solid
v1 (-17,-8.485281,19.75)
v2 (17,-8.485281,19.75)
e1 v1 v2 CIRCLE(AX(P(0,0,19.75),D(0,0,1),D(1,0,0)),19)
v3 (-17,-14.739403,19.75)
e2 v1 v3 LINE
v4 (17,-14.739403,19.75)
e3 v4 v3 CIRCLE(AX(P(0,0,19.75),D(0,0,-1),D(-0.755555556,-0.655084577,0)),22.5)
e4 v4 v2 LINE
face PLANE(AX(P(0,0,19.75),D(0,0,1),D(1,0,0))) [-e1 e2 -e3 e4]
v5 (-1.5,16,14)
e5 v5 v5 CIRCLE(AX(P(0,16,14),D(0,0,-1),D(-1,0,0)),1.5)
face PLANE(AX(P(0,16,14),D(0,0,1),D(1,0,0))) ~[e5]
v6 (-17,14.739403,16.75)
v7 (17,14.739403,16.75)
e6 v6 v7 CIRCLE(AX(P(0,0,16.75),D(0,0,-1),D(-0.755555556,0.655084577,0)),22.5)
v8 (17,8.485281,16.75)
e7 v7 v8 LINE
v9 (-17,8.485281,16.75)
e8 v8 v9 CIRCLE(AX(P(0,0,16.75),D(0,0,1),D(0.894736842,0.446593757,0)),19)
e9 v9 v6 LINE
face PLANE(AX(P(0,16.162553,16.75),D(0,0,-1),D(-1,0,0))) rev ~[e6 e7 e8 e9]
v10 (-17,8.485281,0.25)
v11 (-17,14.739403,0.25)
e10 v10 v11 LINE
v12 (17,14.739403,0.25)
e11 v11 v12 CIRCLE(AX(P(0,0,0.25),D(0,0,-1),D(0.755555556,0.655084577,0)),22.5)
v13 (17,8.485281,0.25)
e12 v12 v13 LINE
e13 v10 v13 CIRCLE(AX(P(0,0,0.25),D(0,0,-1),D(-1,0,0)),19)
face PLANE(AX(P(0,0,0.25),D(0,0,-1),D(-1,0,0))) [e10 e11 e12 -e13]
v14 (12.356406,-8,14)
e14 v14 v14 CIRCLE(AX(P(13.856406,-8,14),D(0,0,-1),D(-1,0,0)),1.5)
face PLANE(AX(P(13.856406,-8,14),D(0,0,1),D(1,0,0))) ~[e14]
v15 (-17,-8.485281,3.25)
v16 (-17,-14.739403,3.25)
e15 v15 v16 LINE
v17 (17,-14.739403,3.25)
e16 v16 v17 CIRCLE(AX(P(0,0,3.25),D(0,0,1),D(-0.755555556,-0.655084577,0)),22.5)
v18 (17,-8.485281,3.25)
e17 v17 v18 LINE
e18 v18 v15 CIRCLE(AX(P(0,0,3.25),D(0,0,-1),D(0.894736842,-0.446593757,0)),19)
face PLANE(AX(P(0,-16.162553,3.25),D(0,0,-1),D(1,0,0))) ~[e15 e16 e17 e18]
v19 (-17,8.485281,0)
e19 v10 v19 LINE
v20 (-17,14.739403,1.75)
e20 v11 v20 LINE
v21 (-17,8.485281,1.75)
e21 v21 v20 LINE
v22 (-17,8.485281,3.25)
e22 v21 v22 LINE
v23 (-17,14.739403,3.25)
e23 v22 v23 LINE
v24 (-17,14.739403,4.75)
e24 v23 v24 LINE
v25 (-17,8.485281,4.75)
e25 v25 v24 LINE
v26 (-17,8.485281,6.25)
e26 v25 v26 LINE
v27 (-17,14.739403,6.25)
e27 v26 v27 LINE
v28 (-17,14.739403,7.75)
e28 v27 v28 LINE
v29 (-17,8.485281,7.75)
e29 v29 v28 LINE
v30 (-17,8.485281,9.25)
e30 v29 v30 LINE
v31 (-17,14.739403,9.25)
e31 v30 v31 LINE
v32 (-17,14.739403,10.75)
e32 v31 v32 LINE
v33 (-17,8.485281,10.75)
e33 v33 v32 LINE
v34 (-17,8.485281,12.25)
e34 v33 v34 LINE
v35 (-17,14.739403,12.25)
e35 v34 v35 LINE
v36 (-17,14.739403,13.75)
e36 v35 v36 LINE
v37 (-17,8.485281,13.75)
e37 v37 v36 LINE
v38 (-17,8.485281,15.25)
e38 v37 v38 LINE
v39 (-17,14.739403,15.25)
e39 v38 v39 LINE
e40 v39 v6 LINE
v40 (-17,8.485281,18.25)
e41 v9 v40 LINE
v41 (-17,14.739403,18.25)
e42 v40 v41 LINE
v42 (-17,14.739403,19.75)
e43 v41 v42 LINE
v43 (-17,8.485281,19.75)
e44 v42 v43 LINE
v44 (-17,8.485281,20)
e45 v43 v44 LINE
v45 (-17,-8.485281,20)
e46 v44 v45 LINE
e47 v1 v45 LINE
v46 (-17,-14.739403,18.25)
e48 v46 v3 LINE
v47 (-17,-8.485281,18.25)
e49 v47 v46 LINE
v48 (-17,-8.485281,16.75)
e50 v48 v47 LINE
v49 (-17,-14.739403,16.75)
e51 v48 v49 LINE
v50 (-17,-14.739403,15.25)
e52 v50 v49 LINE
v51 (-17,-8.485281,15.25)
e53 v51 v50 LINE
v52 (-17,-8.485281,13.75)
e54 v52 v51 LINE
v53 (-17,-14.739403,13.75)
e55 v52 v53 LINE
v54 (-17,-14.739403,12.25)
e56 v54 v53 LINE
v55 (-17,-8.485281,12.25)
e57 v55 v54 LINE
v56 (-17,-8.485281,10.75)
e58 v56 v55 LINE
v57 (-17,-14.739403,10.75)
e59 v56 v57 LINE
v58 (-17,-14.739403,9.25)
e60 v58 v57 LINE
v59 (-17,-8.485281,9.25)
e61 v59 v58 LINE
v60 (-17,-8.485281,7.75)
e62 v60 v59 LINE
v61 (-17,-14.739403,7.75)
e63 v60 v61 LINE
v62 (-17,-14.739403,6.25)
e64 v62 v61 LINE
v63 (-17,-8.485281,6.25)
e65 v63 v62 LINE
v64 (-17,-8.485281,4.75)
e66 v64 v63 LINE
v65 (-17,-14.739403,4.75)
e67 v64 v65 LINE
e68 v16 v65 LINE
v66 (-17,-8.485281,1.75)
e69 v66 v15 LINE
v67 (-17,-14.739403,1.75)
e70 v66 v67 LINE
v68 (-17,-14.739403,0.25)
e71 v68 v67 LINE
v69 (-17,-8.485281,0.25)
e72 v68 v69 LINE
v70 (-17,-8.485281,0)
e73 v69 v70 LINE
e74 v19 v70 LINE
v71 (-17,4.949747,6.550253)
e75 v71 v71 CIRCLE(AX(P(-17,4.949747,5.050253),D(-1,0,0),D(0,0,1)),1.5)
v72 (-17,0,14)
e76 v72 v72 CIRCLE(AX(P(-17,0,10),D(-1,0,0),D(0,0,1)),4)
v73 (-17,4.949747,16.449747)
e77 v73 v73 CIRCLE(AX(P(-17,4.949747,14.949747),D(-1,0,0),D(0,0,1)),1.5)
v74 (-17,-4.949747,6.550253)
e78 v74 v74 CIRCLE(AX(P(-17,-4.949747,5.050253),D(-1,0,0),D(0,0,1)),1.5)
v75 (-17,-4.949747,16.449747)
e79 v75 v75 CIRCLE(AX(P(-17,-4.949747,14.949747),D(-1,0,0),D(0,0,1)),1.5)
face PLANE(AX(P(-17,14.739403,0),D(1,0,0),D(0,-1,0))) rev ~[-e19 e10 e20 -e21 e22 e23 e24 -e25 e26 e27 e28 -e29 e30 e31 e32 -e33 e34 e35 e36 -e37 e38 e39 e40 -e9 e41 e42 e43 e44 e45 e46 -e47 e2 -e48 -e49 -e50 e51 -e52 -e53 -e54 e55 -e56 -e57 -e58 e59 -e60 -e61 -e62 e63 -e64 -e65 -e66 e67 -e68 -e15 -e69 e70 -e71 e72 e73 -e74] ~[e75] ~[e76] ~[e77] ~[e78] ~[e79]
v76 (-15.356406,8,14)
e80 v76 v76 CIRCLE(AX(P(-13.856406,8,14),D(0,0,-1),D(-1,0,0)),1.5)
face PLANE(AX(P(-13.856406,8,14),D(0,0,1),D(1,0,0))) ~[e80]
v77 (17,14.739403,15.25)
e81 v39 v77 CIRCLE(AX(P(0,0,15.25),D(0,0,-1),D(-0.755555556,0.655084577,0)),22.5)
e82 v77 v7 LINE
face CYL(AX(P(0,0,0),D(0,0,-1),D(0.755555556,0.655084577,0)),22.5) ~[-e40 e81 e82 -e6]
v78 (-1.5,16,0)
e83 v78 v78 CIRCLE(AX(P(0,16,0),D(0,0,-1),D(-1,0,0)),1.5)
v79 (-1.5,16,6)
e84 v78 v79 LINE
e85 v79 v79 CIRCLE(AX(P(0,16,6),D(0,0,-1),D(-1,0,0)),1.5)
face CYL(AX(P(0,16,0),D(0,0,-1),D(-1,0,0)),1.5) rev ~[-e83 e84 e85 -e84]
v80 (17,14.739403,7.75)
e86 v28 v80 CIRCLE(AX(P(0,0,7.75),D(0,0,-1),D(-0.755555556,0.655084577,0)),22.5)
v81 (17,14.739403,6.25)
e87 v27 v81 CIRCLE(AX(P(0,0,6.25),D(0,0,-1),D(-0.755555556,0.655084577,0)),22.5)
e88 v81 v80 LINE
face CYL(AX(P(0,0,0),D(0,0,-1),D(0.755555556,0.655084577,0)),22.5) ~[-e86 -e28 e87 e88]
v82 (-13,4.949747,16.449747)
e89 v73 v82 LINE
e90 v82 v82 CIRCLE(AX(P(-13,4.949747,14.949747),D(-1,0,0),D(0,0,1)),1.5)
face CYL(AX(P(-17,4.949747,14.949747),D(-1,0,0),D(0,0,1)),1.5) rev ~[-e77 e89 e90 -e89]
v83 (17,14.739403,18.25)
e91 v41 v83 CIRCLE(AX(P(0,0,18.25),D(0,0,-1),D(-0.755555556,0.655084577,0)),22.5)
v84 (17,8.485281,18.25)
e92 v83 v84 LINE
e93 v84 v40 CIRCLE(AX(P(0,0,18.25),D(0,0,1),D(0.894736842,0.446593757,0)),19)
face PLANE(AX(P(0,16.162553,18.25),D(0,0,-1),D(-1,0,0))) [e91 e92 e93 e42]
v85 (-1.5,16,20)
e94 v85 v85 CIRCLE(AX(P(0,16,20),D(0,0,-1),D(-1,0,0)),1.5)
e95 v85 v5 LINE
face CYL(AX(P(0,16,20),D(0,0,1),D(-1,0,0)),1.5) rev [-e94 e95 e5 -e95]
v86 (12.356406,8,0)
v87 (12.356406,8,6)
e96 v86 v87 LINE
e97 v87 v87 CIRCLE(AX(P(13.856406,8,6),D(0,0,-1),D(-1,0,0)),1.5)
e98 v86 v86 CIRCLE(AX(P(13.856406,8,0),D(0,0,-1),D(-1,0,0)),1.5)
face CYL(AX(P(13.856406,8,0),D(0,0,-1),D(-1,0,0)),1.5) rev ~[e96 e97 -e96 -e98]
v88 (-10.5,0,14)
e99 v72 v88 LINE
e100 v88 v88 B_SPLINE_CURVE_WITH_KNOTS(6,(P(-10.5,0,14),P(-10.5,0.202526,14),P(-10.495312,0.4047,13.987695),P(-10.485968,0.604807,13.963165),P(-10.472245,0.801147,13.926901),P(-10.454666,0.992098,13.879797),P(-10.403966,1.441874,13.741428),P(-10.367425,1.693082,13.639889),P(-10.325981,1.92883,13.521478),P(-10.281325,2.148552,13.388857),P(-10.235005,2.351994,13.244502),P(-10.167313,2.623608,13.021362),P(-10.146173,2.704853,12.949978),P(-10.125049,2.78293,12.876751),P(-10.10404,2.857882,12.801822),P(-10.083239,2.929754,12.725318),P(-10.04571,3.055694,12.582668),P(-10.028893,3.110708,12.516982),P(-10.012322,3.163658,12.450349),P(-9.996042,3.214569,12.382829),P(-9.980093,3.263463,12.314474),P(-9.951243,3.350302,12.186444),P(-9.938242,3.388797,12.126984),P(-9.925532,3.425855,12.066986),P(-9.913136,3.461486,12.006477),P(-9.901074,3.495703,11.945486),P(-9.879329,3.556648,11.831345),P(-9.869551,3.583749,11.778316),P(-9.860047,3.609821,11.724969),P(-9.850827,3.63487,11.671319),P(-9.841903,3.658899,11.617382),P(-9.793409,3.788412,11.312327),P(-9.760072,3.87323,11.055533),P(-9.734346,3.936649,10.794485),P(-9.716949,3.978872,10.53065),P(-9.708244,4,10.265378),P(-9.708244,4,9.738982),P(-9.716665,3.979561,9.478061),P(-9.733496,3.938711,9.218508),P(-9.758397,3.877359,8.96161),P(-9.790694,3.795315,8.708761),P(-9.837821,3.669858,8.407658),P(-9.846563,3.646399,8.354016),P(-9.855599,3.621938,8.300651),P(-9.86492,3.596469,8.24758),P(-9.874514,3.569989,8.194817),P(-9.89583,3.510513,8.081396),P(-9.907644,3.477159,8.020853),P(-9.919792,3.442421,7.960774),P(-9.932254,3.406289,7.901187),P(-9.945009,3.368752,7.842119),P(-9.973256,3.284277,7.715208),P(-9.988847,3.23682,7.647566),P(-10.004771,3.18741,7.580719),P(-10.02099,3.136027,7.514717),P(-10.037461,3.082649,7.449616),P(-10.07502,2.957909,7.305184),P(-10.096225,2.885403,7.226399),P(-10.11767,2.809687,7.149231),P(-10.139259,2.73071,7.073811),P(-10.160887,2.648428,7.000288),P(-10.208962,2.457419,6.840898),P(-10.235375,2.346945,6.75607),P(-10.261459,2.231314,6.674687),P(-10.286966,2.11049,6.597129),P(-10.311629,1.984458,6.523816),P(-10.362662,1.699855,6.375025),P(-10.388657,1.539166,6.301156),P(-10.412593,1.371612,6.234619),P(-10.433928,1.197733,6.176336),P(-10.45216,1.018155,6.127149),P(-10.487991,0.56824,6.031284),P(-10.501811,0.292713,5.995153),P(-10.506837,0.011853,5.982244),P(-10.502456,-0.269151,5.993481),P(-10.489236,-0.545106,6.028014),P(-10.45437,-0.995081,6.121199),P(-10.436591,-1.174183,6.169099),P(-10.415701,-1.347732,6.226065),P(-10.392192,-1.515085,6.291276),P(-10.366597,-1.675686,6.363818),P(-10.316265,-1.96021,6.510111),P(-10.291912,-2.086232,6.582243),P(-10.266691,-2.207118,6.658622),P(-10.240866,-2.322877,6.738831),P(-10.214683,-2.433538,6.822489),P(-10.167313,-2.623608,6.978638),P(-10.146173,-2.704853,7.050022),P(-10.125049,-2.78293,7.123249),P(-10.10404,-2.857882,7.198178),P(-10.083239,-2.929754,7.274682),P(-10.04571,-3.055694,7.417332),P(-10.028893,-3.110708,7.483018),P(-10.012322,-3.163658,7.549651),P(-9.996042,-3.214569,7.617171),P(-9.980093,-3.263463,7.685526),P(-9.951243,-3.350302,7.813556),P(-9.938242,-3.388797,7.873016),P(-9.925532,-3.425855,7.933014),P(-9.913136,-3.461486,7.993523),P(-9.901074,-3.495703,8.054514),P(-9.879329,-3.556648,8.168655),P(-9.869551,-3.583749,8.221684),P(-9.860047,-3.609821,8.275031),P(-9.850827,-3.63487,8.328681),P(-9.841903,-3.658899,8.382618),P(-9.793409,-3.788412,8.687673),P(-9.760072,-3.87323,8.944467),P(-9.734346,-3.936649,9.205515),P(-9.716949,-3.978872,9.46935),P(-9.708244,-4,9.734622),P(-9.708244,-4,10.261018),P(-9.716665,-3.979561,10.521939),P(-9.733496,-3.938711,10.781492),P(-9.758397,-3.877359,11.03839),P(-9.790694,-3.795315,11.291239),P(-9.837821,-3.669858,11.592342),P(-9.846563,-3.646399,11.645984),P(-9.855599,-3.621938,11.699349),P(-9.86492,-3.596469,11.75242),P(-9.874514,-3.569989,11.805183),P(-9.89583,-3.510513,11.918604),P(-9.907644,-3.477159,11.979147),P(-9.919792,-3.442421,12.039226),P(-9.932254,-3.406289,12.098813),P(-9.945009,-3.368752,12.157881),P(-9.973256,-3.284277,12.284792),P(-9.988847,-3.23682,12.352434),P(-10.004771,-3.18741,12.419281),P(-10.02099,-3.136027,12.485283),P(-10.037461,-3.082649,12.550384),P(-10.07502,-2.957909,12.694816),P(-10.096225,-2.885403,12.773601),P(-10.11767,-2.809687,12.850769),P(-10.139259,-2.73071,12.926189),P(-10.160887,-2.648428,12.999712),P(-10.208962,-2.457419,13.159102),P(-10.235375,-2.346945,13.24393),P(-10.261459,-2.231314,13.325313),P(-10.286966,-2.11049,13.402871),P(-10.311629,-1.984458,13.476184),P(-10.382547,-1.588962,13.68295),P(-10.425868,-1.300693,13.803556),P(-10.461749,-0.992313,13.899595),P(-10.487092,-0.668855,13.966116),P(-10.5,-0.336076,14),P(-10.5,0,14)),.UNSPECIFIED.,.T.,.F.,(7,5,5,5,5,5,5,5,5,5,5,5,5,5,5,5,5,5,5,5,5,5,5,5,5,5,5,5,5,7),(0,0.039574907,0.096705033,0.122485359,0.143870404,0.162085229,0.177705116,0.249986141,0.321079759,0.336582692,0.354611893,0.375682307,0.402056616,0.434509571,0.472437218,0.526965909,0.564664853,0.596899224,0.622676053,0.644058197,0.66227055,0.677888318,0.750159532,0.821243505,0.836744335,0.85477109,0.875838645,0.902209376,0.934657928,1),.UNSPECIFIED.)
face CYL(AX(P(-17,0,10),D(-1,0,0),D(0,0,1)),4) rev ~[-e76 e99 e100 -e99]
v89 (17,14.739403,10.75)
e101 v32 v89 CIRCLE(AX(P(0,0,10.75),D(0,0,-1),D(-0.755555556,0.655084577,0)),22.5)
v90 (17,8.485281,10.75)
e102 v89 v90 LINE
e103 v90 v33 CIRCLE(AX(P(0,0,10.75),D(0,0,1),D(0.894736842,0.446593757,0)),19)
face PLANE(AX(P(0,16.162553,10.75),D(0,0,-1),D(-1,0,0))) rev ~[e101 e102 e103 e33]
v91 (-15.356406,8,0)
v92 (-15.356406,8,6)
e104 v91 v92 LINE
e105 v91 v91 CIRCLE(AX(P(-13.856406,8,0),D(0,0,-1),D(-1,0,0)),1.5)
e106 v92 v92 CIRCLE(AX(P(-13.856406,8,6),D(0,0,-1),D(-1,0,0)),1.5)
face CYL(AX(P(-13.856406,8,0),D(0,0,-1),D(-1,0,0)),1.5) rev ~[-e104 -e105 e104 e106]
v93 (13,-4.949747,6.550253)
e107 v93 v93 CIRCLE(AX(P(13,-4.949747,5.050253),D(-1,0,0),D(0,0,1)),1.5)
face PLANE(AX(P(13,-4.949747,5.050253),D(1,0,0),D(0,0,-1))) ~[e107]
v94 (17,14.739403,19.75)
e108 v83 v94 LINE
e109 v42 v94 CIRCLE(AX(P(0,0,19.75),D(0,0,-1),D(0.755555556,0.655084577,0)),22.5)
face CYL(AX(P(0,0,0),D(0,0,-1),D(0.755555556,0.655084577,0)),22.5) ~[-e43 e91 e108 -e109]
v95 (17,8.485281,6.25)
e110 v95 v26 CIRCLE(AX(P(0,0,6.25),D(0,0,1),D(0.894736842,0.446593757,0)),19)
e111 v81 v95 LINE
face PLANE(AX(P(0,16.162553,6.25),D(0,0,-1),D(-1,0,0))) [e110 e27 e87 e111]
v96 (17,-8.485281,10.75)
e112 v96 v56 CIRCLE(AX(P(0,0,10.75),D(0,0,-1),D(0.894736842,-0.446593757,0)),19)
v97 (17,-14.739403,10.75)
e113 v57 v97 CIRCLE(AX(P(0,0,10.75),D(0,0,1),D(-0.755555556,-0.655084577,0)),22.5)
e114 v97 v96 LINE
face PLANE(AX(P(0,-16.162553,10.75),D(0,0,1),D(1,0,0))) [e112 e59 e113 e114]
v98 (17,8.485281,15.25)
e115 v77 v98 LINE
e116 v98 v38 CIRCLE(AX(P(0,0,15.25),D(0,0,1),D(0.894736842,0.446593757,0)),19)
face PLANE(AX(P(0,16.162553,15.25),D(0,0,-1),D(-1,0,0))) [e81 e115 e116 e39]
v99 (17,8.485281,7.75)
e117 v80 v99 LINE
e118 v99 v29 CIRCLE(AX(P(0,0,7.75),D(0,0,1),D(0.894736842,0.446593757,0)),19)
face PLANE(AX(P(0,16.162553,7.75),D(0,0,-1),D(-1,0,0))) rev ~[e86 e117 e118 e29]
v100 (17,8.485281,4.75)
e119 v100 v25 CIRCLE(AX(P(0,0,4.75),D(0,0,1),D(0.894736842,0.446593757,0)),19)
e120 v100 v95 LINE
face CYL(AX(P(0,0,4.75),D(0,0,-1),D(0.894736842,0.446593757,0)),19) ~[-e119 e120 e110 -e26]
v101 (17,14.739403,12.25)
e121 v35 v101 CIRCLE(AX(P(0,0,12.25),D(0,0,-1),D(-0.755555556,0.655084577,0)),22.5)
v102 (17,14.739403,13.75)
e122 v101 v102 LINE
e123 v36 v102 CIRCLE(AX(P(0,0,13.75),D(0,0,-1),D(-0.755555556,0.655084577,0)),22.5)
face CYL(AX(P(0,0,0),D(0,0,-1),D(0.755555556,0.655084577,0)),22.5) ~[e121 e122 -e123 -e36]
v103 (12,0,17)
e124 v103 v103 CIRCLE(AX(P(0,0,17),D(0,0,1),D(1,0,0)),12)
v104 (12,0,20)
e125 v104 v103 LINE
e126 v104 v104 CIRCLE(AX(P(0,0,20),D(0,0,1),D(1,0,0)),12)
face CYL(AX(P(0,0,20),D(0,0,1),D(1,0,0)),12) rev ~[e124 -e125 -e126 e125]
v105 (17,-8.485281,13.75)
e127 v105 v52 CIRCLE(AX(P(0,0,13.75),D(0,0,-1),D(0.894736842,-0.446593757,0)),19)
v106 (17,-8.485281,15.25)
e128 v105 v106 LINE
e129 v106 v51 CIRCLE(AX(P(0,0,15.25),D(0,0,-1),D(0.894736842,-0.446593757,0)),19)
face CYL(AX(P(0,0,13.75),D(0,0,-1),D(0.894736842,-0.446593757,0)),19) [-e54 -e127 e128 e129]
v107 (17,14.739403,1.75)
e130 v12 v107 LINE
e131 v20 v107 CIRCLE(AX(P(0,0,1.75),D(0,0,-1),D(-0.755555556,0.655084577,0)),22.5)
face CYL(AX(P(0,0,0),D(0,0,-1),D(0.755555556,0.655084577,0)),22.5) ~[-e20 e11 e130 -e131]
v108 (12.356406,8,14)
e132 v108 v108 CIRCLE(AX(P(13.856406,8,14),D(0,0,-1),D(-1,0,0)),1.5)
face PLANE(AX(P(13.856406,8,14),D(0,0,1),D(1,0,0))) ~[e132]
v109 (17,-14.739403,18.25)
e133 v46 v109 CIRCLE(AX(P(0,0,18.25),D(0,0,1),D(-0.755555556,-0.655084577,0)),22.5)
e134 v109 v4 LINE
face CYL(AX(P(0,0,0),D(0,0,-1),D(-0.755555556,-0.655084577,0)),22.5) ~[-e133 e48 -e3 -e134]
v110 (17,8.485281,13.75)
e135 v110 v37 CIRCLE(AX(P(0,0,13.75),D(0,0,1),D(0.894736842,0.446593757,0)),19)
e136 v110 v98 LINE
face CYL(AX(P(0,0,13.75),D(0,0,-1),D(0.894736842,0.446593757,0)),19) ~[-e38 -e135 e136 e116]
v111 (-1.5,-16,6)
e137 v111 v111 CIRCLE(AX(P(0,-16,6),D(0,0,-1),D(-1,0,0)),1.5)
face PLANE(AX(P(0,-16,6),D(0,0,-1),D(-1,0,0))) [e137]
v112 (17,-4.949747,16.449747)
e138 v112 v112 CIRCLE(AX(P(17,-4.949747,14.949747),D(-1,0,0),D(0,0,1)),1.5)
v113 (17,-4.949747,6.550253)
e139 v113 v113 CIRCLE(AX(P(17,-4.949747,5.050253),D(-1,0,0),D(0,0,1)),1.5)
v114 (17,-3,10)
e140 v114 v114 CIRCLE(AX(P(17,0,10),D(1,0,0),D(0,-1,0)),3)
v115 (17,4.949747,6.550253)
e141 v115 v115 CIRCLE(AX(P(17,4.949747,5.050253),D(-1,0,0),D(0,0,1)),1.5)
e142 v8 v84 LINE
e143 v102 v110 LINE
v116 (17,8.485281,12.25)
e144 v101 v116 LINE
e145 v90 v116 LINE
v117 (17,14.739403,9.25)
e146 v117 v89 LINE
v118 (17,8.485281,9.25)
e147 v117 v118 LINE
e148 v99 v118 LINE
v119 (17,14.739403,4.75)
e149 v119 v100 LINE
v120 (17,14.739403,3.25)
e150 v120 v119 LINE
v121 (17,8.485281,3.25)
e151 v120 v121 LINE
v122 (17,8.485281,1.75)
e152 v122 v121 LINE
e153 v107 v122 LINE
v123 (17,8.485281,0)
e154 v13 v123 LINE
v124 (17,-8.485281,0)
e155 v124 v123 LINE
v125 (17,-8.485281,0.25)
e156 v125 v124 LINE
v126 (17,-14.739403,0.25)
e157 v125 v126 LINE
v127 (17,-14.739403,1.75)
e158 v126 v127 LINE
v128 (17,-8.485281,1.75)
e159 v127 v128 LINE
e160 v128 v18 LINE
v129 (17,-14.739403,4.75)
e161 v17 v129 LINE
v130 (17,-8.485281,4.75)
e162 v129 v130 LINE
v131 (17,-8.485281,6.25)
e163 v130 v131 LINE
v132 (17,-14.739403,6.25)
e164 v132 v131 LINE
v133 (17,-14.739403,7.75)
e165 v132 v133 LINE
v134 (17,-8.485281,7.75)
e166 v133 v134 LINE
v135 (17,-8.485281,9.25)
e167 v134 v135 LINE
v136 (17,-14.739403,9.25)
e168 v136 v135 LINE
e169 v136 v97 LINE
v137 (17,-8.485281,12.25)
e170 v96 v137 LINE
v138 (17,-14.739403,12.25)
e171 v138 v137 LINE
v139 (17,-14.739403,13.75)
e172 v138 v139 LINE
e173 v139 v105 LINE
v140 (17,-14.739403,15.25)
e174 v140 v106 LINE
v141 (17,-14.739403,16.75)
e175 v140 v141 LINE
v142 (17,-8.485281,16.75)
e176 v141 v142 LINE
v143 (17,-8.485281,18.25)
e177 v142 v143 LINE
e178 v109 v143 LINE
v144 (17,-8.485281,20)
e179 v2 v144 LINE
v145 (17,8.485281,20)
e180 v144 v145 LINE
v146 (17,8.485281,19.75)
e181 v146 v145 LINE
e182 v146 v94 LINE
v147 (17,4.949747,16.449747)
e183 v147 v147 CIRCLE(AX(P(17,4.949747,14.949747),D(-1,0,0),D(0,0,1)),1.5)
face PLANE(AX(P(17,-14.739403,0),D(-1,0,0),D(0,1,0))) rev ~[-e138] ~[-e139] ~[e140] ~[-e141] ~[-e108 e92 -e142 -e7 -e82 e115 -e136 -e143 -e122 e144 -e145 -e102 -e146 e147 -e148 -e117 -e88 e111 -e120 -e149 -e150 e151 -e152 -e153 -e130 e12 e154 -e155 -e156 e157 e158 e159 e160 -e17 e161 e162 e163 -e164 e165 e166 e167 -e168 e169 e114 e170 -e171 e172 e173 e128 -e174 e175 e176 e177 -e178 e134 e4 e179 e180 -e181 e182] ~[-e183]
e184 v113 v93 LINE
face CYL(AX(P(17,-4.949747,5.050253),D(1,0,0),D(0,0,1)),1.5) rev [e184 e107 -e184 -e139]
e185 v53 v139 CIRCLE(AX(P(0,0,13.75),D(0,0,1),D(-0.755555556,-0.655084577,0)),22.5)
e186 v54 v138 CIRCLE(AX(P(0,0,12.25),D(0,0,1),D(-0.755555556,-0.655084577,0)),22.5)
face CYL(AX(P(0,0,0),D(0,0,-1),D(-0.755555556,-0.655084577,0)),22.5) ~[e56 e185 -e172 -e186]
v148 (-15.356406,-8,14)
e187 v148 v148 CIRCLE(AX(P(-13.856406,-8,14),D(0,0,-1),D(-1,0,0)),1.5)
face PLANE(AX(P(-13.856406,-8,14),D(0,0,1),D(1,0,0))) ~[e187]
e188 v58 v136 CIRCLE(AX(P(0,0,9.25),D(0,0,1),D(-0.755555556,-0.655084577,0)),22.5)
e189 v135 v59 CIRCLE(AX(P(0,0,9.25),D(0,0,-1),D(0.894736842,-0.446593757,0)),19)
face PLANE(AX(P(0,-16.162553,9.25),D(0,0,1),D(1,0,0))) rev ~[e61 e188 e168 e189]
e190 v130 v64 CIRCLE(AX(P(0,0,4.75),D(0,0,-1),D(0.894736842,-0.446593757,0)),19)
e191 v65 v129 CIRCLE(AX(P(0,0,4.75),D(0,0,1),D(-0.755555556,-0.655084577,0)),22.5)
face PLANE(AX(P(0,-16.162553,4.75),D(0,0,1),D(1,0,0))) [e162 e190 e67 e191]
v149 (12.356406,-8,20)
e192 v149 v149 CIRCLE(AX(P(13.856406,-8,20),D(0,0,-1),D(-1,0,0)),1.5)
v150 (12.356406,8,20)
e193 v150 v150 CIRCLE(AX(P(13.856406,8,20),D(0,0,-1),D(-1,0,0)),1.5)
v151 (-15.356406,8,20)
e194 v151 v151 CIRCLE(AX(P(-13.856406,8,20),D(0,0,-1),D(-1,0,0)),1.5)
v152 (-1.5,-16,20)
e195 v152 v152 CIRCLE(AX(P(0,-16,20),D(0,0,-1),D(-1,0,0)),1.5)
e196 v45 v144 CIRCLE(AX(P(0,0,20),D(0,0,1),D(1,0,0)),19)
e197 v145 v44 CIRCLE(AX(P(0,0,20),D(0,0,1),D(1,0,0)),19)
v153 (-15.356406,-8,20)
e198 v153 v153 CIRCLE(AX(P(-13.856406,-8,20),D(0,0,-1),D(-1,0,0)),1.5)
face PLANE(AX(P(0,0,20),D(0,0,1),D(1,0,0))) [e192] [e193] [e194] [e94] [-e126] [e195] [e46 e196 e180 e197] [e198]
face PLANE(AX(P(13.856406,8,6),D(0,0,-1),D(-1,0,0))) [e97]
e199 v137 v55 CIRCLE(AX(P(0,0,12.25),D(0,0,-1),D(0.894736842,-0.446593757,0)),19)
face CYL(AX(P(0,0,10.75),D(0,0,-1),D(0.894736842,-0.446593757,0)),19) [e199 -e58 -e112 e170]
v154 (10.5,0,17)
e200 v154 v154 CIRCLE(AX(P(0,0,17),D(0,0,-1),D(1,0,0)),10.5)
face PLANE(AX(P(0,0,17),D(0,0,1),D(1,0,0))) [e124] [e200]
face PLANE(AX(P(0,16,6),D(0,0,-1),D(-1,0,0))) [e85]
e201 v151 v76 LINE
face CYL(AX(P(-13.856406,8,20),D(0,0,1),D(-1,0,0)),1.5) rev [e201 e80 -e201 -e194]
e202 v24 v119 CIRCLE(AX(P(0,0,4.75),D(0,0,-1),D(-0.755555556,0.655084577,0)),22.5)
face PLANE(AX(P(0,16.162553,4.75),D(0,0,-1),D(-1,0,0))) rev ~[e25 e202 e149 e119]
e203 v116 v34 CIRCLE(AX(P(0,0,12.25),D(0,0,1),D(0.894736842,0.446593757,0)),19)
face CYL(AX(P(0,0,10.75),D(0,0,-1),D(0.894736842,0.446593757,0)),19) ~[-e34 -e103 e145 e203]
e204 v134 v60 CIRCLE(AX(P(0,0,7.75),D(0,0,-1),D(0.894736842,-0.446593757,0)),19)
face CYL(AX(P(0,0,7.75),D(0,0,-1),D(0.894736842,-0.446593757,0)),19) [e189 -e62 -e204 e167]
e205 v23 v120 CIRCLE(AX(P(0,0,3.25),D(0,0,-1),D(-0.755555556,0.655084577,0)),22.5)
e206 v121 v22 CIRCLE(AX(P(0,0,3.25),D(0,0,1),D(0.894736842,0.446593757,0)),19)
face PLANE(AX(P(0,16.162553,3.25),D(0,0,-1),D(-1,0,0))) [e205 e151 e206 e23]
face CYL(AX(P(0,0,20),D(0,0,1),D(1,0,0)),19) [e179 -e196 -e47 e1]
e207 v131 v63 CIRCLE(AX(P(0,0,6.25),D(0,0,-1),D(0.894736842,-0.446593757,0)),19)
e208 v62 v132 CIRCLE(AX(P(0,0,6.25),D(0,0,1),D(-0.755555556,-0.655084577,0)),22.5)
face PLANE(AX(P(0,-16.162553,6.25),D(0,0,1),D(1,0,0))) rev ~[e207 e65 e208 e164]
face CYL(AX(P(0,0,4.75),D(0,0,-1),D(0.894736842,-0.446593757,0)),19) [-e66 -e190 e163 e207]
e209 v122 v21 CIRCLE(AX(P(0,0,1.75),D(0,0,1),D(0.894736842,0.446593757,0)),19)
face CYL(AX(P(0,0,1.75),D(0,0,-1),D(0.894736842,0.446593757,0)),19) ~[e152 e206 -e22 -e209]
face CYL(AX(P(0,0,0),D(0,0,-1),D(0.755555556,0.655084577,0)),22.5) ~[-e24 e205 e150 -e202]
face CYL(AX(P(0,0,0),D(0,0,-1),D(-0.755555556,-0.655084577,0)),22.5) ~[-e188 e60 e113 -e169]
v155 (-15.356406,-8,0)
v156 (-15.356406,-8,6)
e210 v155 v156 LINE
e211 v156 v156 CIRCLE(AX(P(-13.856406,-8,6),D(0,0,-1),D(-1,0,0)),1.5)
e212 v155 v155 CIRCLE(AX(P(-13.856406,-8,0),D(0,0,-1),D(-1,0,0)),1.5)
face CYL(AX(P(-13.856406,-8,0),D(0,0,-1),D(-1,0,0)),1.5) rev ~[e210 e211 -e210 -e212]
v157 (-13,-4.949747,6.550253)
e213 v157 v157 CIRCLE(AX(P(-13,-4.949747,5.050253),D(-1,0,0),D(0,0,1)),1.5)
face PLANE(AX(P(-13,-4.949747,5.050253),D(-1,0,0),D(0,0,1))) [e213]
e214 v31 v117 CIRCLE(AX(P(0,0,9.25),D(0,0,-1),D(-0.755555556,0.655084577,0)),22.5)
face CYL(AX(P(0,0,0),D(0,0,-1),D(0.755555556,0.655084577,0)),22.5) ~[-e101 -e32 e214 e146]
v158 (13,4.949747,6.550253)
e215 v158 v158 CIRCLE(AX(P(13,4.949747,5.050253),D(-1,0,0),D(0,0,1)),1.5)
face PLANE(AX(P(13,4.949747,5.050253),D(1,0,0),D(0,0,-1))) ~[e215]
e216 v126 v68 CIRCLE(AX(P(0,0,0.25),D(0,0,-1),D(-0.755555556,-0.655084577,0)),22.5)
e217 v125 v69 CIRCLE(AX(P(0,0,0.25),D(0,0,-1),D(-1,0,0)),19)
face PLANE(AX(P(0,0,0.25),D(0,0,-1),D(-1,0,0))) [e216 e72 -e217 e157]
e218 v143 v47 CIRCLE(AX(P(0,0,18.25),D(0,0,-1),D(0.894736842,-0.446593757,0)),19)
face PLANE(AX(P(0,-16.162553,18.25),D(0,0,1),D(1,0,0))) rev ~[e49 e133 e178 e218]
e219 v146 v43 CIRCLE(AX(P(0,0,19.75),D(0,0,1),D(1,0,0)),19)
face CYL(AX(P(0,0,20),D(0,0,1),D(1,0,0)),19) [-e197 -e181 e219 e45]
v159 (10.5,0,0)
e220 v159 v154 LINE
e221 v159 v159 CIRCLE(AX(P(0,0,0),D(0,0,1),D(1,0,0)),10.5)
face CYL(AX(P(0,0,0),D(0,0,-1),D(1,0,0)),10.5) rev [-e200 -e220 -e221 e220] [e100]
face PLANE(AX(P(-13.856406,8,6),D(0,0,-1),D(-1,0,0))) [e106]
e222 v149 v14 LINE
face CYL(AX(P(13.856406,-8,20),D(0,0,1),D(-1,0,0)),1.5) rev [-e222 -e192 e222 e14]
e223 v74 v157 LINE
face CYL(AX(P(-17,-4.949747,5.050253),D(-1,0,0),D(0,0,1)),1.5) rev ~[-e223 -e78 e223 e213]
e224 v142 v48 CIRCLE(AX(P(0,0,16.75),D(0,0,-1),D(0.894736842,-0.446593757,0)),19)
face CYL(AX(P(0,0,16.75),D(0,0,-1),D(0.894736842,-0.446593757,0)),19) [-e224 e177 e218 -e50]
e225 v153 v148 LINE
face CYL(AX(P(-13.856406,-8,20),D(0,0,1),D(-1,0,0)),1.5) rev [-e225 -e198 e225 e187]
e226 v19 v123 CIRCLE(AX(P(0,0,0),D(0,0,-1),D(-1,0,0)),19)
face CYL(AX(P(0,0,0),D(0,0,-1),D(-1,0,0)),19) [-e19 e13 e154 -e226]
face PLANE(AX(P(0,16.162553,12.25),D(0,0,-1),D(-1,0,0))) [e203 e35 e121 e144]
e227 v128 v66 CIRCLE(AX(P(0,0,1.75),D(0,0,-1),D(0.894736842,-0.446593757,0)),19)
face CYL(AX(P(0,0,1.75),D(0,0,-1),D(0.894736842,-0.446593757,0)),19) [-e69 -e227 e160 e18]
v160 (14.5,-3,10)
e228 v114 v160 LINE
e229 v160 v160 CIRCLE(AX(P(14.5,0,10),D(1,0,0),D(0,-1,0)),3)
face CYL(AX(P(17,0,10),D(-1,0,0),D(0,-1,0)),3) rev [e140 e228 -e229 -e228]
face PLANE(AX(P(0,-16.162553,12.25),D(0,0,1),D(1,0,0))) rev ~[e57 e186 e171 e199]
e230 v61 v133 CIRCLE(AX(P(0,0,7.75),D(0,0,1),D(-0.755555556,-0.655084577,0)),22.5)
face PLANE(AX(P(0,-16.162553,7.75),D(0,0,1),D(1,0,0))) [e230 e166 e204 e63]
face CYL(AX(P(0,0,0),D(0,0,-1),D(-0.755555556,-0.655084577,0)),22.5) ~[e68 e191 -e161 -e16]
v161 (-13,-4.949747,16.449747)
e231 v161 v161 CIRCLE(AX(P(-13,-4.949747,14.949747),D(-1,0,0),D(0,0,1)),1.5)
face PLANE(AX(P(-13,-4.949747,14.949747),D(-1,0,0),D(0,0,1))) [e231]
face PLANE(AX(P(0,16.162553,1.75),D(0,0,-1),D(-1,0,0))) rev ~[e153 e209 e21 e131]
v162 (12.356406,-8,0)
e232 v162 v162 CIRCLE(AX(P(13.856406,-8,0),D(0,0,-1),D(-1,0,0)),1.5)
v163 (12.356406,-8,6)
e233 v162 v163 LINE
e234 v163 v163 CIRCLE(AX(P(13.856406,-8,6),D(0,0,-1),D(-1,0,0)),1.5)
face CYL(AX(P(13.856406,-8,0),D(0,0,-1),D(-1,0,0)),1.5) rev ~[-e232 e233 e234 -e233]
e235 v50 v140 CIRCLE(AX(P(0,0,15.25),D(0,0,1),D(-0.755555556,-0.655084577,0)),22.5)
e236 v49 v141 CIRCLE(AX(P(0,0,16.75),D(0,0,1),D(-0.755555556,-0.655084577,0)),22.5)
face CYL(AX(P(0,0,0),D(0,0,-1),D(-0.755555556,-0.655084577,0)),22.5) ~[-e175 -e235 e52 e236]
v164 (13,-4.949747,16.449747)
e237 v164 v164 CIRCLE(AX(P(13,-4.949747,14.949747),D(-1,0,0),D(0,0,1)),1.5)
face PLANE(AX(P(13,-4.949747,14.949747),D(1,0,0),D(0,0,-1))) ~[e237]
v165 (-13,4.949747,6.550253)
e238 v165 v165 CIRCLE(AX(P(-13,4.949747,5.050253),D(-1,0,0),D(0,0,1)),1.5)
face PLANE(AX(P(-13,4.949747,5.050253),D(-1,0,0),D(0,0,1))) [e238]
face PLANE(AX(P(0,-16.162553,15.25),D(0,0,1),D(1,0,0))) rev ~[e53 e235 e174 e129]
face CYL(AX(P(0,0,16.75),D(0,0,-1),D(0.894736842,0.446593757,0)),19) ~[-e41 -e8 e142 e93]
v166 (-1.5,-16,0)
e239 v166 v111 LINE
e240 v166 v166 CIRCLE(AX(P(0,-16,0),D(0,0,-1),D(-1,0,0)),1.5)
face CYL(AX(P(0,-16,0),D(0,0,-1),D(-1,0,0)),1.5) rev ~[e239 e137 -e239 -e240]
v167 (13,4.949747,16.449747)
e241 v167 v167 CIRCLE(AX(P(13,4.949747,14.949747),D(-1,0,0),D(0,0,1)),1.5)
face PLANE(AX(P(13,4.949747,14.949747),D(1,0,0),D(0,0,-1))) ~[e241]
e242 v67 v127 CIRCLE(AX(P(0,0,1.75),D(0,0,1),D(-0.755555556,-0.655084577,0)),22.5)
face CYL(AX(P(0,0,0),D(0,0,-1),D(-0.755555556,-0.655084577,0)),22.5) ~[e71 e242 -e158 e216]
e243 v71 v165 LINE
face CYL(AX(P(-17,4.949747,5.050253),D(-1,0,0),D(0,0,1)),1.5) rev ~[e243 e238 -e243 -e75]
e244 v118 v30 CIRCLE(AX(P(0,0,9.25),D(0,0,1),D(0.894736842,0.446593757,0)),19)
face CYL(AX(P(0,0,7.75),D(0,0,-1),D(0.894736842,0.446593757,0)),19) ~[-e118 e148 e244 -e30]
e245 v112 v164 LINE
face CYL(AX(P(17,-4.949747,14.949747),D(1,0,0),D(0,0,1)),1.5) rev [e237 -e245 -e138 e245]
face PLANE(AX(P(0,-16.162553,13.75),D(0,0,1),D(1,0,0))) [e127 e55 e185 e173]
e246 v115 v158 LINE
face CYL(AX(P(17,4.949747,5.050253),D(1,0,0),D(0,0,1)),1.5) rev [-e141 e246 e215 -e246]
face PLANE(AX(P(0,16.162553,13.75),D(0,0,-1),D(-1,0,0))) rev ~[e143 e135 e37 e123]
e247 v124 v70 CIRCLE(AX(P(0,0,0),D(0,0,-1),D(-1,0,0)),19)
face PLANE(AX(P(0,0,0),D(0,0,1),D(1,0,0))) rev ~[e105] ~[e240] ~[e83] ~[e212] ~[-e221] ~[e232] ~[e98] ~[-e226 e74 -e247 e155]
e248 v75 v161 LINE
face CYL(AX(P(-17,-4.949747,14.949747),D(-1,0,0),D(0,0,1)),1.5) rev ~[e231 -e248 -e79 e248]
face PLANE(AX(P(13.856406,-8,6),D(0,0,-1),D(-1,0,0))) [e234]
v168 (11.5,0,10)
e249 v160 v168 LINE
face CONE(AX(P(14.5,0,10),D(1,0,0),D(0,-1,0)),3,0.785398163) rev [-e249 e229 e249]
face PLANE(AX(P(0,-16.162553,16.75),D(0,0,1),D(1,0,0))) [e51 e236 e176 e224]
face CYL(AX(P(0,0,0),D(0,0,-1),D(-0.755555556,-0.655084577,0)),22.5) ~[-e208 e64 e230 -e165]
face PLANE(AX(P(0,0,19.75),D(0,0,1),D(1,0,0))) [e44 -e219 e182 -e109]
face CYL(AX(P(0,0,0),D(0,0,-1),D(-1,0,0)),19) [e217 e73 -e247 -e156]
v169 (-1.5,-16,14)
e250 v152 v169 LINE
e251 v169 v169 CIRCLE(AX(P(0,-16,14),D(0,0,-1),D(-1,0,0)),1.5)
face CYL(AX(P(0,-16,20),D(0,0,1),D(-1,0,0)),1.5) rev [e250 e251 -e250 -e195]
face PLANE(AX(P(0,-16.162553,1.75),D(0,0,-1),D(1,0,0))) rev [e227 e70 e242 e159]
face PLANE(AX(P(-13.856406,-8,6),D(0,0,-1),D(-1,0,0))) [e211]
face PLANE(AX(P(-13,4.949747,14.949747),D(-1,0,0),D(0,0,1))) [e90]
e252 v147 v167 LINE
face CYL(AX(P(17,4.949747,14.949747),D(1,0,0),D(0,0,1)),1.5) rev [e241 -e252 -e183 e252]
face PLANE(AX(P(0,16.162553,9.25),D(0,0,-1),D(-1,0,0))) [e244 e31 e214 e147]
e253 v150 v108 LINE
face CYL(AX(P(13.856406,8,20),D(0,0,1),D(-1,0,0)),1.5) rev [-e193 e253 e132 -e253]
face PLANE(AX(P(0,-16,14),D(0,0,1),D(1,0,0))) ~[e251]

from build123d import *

# Parameters (mm, degrees)
SKETCH1_R            = 10.5
BOSS_EXTRUDE1_DEPTH  = 20
SKETCH2_R            = 12
CUT_EXTRUDE1_DEPTH   = 3
SKETCH3_OUTSIDE_W    = 47.968
SKETCH3_OUTSIDE_H    = 58.968
SKETCH3_OUTSIDE_R    = 19
CUT_EXTRUDE2_DEPTH   = 0.25
SKETCH4_OUTSIDE_W    = 47.968
SKETCH4_OUTSIDE_H    = 58.968
SKETCH4_OUTSIDE_R    = 19
CUT_EXTRUDE3_DEPTH   = 0.25
CUT_EXTRUDE4_DEPTH   = 1.5
LPATTERN1_COUNT      = 6
LPATTERN1_PITCH      = 3
MIRROR1_COPY_1_DEPTH = 1.5
MIRROR1_COPY_2_DEPTH = 1.5
MIRROR1_COPY_3_DEPTH = 1.5
MIRROR1_COPY_4_DEPTH = 1.5
MIRROR1_COPY_5_DEPTH = 1.5
CUT_EXTRUDE5_REACH   = 36
SKETCH6_R            = 4
SKETCH7_R            = 1.5
CUT_EXTRUDE6_DEPTH   = 4
SKETCH9_R            = 1.5
CUT_EXTRUDE7_DEPTH   = 6


with BuildPart() as part:
    # Sketch1 → Boss-Extrude1 (new body)
    with BuildSketch(Plane.XY):
        with BuildLine():
            Line((-17, 14.739402973), (-17, -14.739402973))
            ThreePointArc((-17, -14.739402973), (0, -22.5), (17, -14.739402973))
            Line((17, -14.739402973), (17, 14.739402973))
            ThreePointArc((17, 14.739402973), (0, 22.5), (-17, 14.739402973))
        make_face()
        Circle(SKETCH1_R, mode=Mode.SUBTRACT)
    extrude(amount=BOSS_EXTRUDE1_DEPTH)

    # Sketch2 → Cut-Extrude1 (cut)
    with BuildSketch(Plane.XY.offset(20)):
        Circle(SKETCH2_R)
    extrude(amount=-CUT_EXTRUDE1_DEPTH, mode=Mode.SUBTRACT)

    # Sketch3 outside → Cut-Extrude2 (cut)
    with BuildSketch(Plane(origin=(0, 0, 0), x_dir=(-1, 0, 0), z_dir=(0, 0, -1))):
        Rectangle(SKETCH3_OUTSIDE_W, SKETCH3_OUTSIDE_H)
        Circle(SKETCH3_OUTSIDE_R, mode=Mode.SUBTRACT)
    extrude(amount=-CUT_EXTRUDE2_DEPTH, mode=Mode.SUBTRACT)

    # Sketch4 outside → Cut-Extrude3 (cut)
    with BuildSketch(Plane.XY.offset(20)):
        Rectangle(SKETCH4_OUTSIDE_W, SKETCH4_OUTSIDE_H)
        Circle(SKETCH4_OUTSIDE_R, mode=Mode.SUBTRACT)
    extrude(amount=-CUT_EXTRUDE3_DEPTH, mode=Mode.SUBTRACT)

    # Sketch5 → Cut-Extrude4 (cut)
    with BuildSketch(Plane(origin=(0, 0, 1.75), x_dir=(-1, 0, 0), z_dir=(0, 0, -1))):
        with BuildLine():
            Line((17, 8.485281374), (17, 14.739402973))
            ThreePointArc((17, 14.739402973), (0, 22.5), (-17, 14.739402973))
            Line((-17, 14.739402973), (-17, 8.485281374))
            ThreePointArc((-17, 8.485281374), (0, 19), (17, 8.485281374))
        make_face()
    cut_extrude4 = extrude(amount=-CUT_EXTRUDE4_DEPTH, mode=Mode.SUBTRACT)

    # LPattern1: Cut-Extrude4 ×6
    with Locations(*[(0, 0, i * LPATTERN1_PITCH) for i in range(1, LPATTERN1_COUNT)]):
        add(cut_extrude4, mode=Mode.SUBTRACT)

    # Mirror1: Cut-Extrude4 across plane
    add(cut_extrude4.mirror(Plane.ZX), mode=Mode.SUBTRACT)

    # Mirror1 copy 1 sketch → Mirror1 copy 1 (cut)
    with BuildSketch(Plane(origin=(0, 0, 4.75), x_dir=(-1, 0, 0), z_dir=(0, 0, -1))):
        with BuildLine():
            Line((17, -8.485281374), (17, -14.739402973))
            ThreePointArc((17, -14.739402973), (0, -22.5), (-17, -14.739402973))
            Line((-17, -14.739402973), (-17, -8.485281374))
            ThreePointArc((-17, -8.485281374), (0, -19), (17, -8.485281374))
        make_face()
    extrude(amount=-MIRROR1_COPY_1_DEPTH, mode=Mode.SUBTRACT)

    # Mirror1 copy 2 sketch → Mirror1 copy 2 (cut)
    with BuildSketch(Plane(origin=(0, 0, 7.75), x_dir=(-1, 0, 0), z_dir=(0, 0, -1))):
        with BuildLine():
            Line((17, -8.485281374), (17, -14.739402973))
            ThreePointArc((17, -14.739402973), (0, -22.5), (-17, -14.739402973))
            Line((-17, -14.739402973), (-17, -8.485281374))
            ThreePointArc((-17, -8.485281374), (0, -19), (17, -8.485281374))
        make_face()
    extrude(amount=-MIRROR1_COPY_2_DEPTH, mode=Mode.SUBTRACT)

    # Mirror1 copy 3 sketch → Mirror1 copy 3 (cut)
    with BuildSketch(Plane(origin=(0, 0, 10.75), x_dir=(-1, 0, 0), z_dir=(0, 0, -1))):
        with BuildLine():
            Line((17, -8.485281374), (17, -14.739402973))
            ThreePointArc((17, -14.739402973), (0, -22.5), (-17, -14.739402973))
            Line((-17, -14.739402973), (-17, -8.485281374))
            ThreePointArc((-17, -8.485281374), (0, -19), (17, -8.485281374))
        make_face()
    extrude(amount=-MIRROR1_COPY_3_DEPTH, mode=Mode.SUBTRACT)

    # Mirror1 copy 4 sketch → Mirror1 copy 4 (cut)
    with BuildSketch(Plane(origin=(0, 0, 13.75), x_dir=(-1, 0, 0), z_dir=(0, 0, -1))):
        with BuildLine():
            Line((17, -8.485281374), (17, -14.739402973))
            ThreePointArc((17, -14.739402973), (0, -22.5), (-17, -14.739402973))
            Line((-17, -14.739402973), (-17, -8.485281374))
            ThreePointArc((-17, -8.485281374), (0, -19), (17, -8.485281374))
        make_face()
    extrude(amount=-MIRROR1_COPY_4_DEPTH, mode=Mode.SUBTRACT)

    # Mirror1 copy 5 sketch → Mirror1 copy 5 (cut)
    with BuildSketch(Plane(origin=(0, 0, 16.75), x_dir=(-1, 0, 0), z_dir=(0, 0, -1))):
        with BuildLine():
            Line((17, -8.485281374), (17, -14.739402973))
            ThreePointArc((17, -14.739402973), (0, -22.5), (-17, -14.739402973))
            Line((-17, -14.739402973), (-17, -8.485281374))
            ThreePointArc((-17, -8.485281374), (0, -19), (17, -8.485281374))
        make_face()
    extrude(amount=-MIRROR1_COPY_5_DEPTH, mode=Mode.SUBTRACT)

    # Sketch6 → Cut-Extrude5 (cut, up to next)
    with BuildSketch(Plane.ZY.offset(17), mode=Mode.PRIVATE) as cut_extrude5_sk1:
        with Locations((10, 0)):
            Circle(SKETCH6_R)
    cut_extrude5_tool1 = extrude(cut_extrude5_sk1.sketch, amount=-CUT_EXTRUDE5_REACH, mode=Mode.PRIVATE) & part.part
    add(cut_extrude5_tool1.solids().sort_by_distance((-17, 0, 10))[0], mode=Mode.SUBTRACT)

    # Sketch7 → Cut-Extrude6 (cut)
    with BuildSketch(Plane.ZY.offset(17)):
        with Locations((5.050252532, 4.949747468)):
            Circle(SKETCH7_R)
        with Locations((14.949747468, 4.949747468)):
            Circle(SKETCH7_R)
        with Locations((14.949747468, -4.949747468)):
            Circle(SKETCH7_R)
        with Locations((5.050252532, -4.949747468)):
            Circle(SKETCH7_R)
    cut_extrude6 = extrude(amount=-CUT_EXTRUDE6_DEPTH, mode=Mode.SUBTRACT)

    # Sketch8 → Cut-Revolve1 (revolve, cut)
    with BuildSketch(Plane(origin=(0, 0, 10), x_dir=(-1, 0, 0), z_dir=(0, 0, -1))):
        Polygon((-17, 0), (-17, -3), (-14.5, -3), (-11.5, 0), align=None)
    revolve(axis=Axis((11.5, 0, 10), (1, 0, 0)), mode=Mode.SUBTRACT)

    # Mirror2: Cut-Extrude6 across plane
    add(cut_extrude6.mirror(Plane(origin=(0, 0, 0), x_dir=(0, 0, 1), z_dir=(1, 0, 0))), mode=Mode.SUBTRACT)

    # Sketch9 → Cut-Extrude7 (cut)
    with BuildSketch(Plane(origin=(0, 0, 0), x_dir=(-1, 0, 0), z_dir=(0, 0, -1))):
        with Locations((0, 16)):
            Circle(SKETCH9_R)
        with Locations((13.856406461, 8)):
            Circle(SKETCH9_R)
        with Locations((13.856406461, -8)):
            Circle(SKETCH9_R)
        with Locations((0, -16)):
            Circle(SKETCH9_R)
        with Locations((-13.856406461, -8)):
            Circle(SKETCH9_R)
        with Locations((-13.856406461, 8)):
            Circle(SKETCH9_R)
    cut_extrude7 = extrude(amount=-CUT_EXTRUDE7_DEPTH, mode=Mode.SUBTRACT)

    # Mirror3: Cut-Extrude7 across plane
    add(cut_extrude7.mirror(Plane(origin=(0, 0, 10), x_dir=(1, 0, 0), z_dir=(0, 0, -1))), mode=Mode.SUBTRACT)


solid = part.part
